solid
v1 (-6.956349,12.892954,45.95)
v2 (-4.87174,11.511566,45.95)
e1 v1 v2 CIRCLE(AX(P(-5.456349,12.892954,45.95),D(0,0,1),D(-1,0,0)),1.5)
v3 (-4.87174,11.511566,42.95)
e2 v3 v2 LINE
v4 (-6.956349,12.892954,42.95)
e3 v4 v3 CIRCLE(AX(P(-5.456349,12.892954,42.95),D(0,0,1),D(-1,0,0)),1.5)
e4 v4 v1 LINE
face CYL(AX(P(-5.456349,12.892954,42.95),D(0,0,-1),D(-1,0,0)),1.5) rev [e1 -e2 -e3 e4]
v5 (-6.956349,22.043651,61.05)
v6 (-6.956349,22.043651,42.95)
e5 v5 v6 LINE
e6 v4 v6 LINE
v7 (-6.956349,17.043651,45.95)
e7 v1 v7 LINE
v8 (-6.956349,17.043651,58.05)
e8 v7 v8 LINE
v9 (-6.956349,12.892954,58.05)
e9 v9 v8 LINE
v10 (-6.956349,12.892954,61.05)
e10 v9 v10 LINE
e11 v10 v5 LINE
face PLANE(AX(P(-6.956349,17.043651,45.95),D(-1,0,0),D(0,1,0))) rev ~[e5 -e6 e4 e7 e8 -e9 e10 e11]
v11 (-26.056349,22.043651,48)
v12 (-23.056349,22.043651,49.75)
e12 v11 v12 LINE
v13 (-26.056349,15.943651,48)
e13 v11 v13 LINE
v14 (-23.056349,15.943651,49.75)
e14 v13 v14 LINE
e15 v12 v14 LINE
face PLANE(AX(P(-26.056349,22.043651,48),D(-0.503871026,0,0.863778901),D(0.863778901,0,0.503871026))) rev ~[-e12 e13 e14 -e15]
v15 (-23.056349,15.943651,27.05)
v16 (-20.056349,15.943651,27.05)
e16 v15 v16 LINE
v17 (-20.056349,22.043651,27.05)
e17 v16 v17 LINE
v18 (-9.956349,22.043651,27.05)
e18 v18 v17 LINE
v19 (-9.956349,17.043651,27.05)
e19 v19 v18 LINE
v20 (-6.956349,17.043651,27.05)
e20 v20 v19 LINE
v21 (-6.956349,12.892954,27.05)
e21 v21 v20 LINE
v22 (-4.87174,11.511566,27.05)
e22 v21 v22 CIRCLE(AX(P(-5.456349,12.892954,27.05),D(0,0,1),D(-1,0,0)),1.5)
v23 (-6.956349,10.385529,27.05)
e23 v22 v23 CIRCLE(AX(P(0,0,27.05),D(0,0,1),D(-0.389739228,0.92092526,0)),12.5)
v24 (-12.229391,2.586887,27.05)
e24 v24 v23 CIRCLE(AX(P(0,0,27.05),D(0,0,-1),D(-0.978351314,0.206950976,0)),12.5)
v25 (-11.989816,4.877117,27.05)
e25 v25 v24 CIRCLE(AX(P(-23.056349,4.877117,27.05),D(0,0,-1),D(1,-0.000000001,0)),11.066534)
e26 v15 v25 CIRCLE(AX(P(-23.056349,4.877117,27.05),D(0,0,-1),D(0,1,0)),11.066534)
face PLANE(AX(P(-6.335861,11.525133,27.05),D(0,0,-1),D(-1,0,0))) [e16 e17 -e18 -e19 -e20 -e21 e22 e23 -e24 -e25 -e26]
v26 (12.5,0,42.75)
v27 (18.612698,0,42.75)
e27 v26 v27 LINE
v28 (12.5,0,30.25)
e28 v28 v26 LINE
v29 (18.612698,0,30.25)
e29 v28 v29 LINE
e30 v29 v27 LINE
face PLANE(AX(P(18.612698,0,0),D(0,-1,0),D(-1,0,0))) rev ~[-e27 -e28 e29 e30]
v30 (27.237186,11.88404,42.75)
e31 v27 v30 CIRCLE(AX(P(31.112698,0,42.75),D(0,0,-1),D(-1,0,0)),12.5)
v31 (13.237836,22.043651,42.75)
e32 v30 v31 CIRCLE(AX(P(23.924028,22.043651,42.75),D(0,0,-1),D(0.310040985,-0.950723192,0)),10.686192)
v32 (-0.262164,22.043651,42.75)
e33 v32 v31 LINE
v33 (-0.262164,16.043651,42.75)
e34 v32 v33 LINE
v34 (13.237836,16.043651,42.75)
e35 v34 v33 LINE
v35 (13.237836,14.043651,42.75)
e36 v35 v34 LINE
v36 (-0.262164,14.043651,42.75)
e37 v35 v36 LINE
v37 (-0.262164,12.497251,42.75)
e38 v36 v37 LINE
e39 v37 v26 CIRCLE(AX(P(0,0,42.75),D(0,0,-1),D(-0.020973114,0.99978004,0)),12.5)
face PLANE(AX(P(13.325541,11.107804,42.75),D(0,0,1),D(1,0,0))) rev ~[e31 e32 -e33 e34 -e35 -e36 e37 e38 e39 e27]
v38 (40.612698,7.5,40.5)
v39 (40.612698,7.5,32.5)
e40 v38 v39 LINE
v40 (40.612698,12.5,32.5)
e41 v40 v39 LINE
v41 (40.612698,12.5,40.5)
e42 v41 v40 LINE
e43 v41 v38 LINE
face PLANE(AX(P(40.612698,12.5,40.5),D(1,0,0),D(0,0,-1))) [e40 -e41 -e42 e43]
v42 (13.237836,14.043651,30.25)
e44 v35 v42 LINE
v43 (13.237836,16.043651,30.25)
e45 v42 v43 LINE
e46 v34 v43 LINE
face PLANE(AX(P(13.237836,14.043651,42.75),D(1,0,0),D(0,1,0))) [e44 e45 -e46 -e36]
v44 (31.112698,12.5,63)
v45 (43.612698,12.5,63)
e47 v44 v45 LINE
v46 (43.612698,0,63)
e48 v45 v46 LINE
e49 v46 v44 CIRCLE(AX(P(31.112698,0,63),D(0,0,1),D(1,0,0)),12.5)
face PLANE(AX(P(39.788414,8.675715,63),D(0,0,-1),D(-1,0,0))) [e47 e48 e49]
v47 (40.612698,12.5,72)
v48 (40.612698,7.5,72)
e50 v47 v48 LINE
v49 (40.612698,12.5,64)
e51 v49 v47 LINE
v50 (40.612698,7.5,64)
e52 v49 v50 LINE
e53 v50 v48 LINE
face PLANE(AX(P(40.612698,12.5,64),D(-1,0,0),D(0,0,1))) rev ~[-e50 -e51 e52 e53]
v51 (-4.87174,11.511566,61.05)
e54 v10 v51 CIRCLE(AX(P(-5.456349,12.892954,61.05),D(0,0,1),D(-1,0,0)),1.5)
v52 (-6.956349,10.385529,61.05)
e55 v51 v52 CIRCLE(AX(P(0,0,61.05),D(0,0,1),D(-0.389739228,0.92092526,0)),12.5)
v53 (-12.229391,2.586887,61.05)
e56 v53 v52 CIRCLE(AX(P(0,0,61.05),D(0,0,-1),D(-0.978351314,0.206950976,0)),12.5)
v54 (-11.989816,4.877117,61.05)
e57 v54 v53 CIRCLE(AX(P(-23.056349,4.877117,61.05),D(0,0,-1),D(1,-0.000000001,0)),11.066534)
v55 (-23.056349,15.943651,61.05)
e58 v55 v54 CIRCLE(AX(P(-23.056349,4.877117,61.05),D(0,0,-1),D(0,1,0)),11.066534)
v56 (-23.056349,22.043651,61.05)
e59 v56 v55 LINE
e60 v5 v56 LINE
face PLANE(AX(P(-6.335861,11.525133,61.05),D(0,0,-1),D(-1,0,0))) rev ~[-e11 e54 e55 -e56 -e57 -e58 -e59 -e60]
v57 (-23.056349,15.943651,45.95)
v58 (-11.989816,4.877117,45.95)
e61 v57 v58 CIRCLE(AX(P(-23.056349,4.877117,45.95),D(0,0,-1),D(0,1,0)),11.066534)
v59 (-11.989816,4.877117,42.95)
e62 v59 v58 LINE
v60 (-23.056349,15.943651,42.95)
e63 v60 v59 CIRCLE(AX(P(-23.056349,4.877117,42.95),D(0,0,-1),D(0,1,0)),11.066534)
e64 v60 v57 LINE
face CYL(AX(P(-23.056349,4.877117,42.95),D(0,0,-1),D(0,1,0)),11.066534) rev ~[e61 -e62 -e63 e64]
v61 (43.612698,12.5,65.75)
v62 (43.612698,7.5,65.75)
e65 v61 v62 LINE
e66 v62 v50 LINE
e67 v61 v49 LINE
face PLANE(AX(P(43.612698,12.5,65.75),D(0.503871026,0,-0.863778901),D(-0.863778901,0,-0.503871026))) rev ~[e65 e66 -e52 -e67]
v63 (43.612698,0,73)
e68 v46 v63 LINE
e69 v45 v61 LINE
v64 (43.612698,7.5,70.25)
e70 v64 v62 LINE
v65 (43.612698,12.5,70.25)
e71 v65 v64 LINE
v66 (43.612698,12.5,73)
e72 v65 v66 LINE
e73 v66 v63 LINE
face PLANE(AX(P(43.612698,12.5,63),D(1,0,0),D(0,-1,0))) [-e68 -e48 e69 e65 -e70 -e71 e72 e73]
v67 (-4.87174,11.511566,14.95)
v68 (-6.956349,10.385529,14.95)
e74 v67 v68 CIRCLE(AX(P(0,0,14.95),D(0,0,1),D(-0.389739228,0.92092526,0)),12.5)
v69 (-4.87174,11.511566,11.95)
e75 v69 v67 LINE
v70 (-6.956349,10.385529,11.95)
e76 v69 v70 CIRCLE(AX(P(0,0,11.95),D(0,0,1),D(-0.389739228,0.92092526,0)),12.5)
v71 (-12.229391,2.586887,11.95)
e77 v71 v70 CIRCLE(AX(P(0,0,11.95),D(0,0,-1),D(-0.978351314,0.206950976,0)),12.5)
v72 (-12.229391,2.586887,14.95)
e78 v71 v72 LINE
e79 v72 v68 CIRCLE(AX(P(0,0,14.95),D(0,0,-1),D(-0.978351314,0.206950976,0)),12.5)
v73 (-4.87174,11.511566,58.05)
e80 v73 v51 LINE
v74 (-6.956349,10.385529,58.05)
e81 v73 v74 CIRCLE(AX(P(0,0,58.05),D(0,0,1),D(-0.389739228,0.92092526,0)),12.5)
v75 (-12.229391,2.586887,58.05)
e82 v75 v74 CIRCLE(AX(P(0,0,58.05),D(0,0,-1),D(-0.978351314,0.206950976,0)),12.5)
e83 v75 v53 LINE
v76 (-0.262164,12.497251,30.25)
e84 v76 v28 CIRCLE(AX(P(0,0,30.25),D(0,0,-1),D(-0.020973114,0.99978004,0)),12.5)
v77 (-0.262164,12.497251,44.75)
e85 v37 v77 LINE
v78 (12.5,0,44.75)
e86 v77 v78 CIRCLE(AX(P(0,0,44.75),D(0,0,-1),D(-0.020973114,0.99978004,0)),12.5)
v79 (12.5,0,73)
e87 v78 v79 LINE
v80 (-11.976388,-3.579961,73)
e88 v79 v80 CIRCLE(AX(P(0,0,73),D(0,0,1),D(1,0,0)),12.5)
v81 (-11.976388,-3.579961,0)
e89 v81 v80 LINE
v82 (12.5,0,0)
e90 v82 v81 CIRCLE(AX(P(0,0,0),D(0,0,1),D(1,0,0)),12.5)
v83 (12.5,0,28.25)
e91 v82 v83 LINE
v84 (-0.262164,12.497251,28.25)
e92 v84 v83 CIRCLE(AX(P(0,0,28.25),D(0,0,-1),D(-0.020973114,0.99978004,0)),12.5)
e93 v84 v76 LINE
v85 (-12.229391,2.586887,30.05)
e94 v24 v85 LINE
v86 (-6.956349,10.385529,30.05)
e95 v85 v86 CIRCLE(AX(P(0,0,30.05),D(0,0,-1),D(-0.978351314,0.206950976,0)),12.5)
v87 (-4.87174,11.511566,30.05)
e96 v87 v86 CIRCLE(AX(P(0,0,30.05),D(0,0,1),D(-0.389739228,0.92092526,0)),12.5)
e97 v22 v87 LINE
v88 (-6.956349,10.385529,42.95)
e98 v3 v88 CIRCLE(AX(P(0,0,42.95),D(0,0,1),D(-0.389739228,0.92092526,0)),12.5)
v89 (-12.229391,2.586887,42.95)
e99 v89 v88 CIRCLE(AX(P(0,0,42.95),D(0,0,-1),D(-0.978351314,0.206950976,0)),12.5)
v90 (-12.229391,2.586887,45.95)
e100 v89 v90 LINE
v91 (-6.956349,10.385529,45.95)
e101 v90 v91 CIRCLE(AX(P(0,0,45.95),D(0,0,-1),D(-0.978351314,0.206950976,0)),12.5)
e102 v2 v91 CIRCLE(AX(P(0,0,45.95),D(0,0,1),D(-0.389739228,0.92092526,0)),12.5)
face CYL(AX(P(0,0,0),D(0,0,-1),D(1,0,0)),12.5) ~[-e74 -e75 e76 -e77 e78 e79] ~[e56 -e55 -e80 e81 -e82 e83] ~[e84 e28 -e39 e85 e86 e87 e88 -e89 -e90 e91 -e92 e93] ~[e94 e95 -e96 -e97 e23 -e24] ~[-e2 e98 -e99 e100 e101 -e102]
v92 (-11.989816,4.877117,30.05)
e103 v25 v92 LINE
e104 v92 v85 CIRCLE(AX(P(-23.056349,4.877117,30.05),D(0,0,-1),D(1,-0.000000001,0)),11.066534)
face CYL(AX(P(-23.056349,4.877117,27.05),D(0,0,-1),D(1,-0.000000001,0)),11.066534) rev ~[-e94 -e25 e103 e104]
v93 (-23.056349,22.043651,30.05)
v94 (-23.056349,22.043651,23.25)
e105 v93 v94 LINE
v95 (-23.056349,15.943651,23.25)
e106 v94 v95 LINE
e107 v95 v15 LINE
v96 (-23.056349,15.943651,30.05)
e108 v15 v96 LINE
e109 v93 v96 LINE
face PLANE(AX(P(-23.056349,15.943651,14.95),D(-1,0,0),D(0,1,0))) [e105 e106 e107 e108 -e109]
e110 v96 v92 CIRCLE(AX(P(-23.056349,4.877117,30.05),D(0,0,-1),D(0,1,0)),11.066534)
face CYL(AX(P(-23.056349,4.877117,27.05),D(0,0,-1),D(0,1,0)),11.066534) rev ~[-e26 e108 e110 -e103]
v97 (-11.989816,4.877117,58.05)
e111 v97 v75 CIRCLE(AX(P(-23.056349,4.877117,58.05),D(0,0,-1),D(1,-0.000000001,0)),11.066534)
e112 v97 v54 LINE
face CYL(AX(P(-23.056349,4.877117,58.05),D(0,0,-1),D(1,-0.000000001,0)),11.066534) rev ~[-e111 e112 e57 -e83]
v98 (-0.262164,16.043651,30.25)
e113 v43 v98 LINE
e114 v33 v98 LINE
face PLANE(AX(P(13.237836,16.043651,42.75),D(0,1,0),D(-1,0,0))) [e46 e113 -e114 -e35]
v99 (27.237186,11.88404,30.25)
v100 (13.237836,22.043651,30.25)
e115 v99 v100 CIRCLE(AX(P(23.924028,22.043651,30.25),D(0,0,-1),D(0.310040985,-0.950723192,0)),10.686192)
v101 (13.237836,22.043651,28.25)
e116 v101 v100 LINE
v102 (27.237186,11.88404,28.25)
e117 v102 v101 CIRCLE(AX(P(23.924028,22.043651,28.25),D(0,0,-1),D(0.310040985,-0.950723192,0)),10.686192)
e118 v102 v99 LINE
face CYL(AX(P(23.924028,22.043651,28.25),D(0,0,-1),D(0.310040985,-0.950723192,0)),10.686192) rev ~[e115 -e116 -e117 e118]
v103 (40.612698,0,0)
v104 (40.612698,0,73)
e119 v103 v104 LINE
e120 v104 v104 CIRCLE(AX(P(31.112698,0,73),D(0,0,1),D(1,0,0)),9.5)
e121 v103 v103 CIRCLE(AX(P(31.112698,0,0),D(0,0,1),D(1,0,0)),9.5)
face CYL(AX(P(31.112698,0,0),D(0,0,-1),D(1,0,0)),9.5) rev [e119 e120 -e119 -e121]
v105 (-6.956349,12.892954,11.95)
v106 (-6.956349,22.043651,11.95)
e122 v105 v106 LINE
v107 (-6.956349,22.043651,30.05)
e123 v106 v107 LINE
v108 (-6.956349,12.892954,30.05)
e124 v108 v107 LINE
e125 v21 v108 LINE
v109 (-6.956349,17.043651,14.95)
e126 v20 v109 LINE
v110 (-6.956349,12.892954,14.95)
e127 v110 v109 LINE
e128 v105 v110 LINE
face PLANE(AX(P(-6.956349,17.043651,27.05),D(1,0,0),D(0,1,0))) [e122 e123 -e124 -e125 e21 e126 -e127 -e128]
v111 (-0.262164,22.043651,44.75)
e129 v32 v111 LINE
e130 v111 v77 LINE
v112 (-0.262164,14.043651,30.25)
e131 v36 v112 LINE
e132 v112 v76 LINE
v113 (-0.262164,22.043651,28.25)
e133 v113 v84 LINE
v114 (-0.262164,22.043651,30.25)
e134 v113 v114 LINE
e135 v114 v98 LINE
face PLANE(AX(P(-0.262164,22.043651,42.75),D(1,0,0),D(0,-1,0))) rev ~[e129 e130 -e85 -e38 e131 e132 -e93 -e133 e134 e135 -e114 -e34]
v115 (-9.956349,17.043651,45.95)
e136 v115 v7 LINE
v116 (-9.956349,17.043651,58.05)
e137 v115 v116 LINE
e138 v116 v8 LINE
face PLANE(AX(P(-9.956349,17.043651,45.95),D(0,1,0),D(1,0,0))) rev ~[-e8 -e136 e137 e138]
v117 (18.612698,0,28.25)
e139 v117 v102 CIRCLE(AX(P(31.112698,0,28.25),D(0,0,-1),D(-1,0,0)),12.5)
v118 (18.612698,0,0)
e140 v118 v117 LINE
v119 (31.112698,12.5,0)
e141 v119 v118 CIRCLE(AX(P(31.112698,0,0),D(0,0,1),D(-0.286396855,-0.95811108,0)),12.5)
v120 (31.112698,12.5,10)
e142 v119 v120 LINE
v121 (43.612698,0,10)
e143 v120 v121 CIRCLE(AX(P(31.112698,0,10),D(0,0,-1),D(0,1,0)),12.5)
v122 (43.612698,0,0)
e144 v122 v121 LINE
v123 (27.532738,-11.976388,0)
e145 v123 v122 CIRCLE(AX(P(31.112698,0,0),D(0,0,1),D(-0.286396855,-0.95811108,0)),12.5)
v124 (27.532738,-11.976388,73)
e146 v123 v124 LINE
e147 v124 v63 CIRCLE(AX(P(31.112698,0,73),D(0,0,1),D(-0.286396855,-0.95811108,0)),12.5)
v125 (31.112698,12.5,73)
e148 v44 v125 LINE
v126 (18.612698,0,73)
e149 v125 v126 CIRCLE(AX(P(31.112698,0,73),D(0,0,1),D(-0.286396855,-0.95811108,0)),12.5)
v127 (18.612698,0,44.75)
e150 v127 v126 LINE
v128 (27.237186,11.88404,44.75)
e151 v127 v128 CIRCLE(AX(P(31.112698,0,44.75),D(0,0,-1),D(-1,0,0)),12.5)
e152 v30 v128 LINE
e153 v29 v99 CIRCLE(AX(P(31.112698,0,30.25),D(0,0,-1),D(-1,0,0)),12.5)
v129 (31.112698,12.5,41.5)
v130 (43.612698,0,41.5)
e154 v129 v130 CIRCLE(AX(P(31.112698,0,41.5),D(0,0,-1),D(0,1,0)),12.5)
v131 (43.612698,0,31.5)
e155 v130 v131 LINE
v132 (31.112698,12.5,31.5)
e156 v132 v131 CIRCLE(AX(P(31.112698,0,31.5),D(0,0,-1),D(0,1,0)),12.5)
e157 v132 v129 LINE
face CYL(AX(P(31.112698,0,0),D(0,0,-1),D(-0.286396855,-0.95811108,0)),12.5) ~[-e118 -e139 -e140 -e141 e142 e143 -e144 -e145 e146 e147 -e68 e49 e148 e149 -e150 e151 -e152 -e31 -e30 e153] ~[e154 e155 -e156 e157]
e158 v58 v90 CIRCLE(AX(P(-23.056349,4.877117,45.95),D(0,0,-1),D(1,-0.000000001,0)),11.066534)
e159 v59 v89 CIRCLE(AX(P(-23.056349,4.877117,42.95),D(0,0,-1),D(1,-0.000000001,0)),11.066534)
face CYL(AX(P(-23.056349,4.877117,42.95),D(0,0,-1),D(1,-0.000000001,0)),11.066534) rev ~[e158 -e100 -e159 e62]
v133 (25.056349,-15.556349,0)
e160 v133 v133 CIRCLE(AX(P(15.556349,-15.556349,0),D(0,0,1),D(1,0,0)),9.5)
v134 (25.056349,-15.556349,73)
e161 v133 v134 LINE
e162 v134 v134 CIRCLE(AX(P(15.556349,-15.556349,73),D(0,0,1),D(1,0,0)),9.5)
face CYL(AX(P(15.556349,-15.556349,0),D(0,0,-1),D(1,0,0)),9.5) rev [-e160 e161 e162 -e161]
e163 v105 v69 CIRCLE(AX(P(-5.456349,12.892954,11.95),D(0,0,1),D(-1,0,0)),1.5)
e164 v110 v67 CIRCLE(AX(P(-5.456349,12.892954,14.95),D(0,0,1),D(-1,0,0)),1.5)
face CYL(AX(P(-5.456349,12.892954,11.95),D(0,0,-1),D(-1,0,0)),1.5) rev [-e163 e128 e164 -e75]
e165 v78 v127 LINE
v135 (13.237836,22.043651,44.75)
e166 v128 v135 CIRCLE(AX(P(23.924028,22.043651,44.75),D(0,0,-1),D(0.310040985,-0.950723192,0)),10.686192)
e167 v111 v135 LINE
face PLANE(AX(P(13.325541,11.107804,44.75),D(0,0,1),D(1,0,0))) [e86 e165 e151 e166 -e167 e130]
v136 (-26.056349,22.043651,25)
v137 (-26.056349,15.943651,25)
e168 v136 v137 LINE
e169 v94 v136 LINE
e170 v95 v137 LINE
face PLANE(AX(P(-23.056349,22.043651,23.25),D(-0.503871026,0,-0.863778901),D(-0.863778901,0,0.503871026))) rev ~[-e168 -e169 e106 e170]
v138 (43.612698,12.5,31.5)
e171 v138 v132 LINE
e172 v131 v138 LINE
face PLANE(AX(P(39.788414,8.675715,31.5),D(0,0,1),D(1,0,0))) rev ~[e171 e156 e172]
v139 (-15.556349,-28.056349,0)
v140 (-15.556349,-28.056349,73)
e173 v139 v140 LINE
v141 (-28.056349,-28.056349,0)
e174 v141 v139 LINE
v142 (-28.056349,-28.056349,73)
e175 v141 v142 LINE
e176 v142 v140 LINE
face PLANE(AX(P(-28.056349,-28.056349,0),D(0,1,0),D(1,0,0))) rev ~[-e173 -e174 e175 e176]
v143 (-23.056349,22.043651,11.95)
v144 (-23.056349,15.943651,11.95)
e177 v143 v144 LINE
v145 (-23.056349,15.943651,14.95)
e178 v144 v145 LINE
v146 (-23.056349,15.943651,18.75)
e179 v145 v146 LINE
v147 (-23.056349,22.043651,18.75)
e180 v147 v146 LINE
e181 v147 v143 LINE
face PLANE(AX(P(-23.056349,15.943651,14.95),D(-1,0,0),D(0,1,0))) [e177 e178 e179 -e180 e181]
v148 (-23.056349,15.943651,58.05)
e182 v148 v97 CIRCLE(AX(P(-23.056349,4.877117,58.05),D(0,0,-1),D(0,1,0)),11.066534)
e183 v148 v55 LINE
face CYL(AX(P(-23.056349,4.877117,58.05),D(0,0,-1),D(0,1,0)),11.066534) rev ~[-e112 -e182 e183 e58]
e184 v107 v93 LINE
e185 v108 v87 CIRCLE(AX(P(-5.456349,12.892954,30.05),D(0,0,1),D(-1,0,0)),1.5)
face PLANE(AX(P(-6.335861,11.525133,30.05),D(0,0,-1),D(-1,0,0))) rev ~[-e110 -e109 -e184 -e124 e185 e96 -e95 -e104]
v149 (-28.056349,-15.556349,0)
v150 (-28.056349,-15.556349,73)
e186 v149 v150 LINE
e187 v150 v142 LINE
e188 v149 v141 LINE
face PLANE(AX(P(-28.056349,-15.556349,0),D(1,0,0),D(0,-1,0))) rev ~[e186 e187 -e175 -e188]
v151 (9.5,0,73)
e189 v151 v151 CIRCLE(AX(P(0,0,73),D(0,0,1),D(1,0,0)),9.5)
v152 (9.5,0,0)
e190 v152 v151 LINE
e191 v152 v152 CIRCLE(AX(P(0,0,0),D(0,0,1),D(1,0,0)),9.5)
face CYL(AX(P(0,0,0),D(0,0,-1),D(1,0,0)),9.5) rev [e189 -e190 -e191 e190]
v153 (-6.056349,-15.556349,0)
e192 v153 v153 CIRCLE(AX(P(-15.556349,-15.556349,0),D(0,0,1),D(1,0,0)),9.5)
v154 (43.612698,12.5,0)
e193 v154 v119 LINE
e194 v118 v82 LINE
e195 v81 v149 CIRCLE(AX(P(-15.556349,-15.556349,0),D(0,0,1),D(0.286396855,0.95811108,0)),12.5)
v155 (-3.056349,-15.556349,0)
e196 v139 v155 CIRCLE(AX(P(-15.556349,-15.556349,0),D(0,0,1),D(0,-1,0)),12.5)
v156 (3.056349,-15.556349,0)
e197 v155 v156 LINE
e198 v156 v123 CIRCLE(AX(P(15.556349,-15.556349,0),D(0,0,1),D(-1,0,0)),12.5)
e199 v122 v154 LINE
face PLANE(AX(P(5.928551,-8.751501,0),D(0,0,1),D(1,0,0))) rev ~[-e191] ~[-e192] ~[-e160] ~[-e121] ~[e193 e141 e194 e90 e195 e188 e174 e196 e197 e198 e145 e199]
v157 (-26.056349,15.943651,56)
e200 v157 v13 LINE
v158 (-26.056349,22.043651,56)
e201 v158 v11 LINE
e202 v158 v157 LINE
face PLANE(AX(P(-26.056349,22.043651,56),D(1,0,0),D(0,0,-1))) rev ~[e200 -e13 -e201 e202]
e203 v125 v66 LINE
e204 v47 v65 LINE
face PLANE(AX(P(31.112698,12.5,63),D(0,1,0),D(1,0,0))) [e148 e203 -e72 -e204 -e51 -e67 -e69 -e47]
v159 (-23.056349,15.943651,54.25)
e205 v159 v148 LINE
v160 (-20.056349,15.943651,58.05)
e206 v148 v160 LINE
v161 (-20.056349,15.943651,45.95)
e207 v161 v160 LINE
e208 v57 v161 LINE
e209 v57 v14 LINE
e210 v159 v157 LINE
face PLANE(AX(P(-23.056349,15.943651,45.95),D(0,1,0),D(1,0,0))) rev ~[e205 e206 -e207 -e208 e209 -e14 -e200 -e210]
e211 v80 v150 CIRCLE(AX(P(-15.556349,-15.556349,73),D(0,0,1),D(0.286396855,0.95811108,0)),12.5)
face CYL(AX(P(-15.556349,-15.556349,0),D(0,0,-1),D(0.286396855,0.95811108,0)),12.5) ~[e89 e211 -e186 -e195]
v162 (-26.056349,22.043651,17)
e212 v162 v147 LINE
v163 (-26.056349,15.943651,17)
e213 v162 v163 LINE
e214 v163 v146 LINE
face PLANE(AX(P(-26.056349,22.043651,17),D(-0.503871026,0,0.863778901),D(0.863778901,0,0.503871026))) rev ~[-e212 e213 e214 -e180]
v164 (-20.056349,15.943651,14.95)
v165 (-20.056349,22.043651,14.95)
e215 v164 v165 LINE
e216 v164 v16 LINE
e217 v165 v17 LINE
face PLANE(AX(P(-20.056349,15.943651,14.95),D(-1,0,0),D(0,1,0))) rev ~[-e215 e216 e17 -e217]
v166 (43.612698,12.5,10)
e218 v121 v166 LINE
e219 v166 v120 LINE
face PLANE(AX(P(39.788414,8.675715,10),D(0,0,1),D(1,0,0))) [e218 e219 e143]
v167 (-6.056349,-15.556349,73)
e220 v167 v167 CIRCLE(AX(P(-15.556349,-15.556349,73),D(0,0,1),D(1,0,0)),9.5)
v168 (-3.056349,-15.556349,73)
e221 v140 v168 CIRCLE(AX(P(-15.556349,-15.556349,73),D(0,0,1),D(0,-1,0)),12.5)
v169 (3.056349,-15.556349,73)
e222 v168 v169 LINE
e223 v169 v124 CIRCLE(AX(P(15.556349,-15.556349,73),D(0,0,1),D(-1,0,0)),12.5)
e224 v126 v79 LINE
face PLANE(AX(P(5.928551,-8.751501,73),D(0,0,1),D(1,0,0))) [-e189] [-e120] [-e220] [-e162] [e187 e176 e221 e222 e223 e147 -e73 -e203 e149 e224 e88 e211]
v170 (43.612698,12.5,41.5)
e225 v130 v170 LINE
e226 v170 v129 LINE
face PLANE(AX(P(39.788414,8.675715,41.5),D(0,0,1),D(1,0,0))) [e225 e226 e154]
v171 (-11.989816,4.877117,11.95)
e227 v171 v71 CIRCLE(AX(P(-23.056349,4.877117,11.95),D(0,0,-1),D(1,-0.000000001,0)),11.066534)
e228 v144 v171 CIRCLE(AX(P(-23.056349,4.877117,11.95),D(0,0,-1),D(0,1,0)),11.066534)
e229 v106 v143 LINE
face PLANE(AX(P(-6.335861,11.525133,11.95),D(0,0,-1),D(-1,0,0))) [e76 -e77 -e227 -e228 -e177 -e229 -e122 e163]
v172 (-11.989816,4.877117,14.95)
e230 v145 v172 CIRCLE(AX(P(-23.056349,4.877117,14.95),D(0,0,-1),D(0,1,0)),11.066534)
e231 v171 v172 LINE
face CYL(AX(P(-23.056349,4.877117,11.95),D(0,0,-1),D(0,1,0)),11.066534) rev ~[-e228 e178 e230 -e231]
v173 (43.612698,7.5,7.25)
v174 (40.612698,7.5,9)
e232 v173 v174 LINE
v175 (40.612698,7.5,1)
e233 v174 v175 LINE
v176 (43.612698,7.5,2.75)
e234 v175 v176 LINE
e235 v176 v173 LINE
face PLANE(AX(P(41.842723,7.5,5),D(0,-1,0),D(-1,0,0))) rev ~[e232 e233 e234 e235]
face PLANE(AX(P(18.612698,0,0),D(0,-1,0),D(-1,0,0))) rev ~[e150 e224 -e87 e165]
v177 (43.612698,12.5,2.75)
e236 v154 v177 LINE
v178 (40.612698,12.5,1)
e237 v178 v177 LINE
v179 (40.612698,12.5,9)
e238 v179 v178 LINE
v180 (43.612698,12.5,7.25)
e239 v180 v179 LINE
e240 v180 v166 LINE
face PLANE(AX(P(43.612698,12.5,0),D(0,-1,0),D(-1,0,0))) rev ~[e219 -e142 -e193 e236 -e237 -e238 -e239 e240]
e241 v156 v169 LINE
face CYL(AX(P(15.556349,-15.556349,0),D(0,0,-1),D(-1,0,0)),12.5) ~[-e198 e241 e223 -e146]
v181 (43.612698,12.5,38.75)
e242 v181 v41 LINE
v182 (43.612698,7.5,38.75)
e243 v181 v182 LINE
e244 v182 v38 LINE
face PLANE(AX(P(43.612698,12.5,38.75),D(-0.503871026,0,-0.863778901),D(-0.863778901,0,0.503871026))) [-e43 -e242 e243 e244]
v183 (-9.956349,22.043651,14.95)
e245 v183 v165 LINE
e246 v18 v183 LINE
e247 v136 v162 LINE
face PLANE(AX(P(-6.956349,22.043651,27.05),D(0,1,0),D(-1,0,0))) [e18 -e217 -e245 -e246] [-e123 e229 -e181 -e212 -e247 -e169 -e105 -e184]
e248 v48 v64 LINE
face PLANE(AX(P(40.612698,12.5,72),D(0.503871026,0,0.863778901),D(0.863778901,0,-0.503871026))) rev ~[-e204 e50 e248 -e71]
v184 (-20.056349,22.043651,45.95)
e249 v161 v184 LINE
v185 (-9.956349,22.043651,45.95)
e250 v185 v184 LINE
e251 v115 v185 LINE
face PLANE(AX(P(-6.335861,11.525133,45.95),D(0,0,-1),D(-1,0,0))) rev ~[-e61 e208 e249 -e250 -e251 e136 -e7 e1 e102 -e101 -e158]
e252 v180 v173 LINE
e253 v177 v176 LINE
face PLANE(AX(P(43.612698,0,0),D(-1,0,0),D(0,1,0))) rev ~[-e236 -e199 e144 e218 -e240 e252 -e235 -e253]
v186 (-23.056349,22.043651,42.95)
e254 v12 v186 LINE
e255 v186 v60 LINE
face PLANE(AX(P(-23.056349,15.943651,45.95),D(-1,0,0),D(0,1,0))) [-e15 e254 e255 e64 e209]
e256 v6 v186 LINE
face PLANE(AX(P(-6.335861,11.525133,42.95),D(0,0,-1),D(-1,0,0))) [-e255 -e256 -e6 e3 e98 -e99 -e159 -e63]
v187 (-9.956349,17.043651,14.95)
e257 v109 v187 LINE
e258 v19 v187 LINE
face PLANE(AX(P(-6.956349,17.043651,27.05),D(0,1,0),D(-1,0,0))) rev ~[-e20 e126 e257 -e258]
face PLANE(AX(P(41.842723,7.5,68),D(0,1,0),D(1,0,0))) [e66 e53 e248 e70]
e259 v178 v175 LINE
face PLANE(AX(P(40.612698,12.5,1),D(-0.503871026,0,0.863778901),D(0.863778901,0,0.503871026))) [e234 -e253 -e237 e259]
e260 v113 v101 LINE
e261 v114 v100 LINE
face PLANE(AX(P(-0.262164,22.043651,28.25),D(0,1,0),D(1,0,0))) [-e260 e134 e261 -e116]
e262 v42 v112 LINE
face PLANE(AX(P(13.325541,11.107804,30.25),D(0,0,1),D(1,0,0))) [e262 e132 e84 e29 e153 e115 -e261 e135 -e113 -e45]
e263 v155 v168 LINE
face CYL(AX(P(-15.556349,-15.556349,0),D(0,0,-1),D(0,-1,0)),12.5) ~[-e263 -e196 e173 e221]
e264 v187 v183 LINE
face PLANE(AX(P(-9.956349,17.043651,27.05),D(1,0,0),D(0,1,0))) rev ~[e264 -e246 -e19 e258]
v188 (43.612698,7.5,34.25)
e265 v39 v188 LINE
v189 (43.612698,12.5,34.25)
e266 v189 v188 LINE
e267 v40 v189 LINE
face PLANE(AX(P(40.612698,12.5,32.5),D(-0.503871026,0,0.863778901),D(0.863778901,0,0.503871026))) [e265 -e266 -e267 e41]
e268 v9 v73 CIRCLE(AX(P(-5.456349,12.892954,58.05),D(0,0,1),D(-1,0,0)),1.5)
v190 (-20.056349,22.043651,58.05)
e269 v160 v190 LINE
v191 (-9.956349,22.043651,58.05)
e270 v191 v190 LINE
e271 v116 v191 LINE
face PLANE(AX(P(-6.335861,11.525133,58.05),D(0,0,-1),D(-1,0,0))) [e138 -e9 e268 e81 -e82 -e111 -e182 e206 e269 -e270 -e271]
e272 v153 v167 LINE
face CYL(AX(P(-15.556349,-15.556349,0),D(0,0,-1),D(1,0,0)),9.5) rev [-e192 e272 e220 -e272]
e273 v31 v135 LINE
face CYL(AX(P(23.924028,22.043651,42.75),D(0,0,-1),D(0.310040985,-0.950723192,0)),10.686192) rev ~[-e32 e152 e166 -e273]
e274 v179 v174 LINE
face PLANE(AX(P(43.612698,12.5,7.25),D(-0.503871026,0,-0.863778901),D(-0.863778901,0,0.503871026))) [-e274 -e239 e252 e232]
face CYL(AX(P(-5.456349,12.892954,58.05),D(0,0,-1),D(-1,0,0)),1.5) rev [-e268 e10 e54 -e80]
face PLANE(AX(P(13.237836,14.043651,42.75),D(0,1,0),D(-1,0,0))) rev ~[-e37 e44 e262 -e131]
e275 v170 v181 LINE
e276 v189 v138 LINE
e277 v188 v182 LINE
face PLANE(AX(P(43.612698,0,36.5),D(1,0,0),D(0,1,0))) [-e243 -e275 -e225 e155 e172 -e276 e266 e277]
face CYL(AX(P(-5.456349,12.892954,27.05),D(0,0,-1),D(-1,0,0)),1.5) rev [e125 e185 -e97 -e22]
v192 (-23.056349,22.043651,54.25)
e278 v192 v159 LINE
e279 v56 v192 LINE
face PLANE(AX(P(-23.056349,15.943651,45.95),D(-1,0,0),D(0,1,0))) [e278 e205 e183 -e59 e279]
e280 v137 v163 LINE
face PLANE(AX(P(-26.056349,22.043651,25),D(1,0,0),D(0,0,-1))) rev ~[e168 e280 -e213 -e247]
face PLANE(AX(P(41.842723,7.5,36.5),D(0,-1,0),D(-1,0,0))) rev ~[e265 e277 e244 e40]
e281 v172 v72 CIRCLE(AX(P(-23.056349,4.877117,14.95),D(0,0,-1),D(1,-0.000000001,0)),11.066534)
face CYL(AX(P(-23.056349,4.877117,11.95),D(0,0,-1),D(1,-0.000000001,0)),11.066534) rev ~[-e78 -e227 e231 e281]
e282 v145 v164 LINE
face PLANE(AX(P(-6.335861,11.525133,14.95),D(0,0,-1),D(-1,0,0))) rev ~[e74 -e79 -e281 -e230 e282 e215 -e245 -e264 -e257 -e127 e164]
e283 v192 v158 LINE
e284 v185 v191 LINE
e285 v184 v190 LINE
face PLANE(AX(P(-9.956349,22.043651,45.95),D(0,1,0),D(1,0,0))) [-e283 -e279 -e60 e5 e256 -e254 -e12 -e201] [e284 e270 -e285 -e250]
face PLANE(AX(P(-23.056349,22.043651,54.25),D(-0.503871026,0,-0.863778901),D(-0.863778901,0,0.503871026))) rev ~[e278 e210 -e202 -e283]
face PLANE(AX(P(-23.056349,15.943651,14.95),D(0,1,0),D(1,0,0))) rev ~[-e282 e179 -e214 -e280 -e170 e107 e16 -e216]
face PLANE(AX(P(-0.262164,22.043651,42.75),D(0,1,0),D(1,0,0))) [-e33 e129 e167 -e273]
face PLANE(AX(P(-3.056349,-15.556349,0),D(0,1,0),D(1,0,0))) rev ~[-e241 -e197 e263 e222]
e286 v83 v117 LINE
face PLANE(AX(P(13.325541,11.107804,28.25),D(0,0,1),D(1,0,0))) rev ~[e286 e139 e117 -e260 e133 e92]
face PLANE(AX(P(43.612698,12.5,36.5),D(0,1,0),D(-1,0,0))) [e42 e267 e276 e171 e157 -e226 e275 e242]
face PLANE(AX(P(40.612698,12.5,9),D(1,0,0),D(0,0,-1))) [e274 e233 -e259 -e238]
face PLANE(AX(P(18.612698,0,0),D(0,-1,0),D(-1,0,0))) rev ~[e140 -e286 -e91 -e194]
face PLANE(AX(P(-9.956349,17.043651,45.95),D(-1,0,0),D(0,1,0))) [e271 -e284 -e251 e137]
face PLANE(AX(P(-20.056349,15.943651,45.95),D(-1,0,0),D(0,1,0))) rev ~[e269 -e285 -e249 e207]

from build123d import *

# Parameters (mm, degrees)
SKETCH_1_R          = 9.5
EXTRUDE_2_DEPTH     = 73
EXTRUDE_START       = -3
EXTRUDE_3_DEPTH     = 3
EXTRUDE_4_DEPTH     = 3
EXTRUDE_5_DEPTH     = 3
EXTRUDE_6_DEPTH     = 3
SKETCH_8_W          = 3
SKETCH_8_H          = 6.1
EXTRUDE_7_DEPTH     = 12.1
SKETCH_9_W          = 3
SKETCH_9_H          = 6.1
EXTRUDE_8_DEPTH     = 12.1
SKETCH_10_W         = 3
SKETCH_10_H         = 5
EXTRUDE_9_DEPTH     = 12.1
SKETCH_11_W         = 3
SKETCH_11_H         = 5
EXTRUDE_10_DEPTH    = 12.1
EXTRUDE_11_DEPTH    = 3
EXTRUDE_12_DEPTH    = 3
EXTRUDE_13_DEPTH    = 3
EXTRUDE_14_DEPTH    = 3
EXTRUDE_15_DEPTH    = 6.1
SKETCH_18_W         = 13.5
SKETCH_18_H         = 6
EXTRUDE_16_DEPTH    = 2
EXTRUDE_START_2     = -2
SKETCH_19_W         = 13.5
SKETCH_19_H         = 6
EXTRUDE_17_DEPTH    = 2
SKETCH_20_W         = 13.5
SKETCH_20_H         = 2
EXTRUDE_18_DEPTH    = 12.5
EXTRUDE_START_3     = -10
EXTRUDE_19_DEPTH    = 10
EXTRUDE_20_DEPTH    = 10
EXTRUDE_START_4     = 36.5
EXTRUDE_21_DEPTH    = 5
CUT_EXTRUDE_1_DEPTH = 5


with BuildPart() as part:
    # Эскиз1 → Бобышка-Вытянуть2 (new body)
    with BuildSketch(Plane.XY):
        with BuildLine():
            Line((-28.056349186, -15.556349186), (-28.056349186, -28.056349186))
            Line((-28.056349186, -28.056349186), (-15.556349186, -28.056349186))
            ThreePointArc((-15.556349186, -28.056349186), (-6.717514421, -24.395183951), (-3.056349186, -15.556349186))
            Line((-3.056349186, -15.556349186), (3.056349186, -15.556349186))
            ThreePointArc((3.056349186, -15.556349186), (17.365374305, -27.924753615), (27.532737685, -11.976388499))
            ThreePointArc((27.532737685, -11.976388499), (41.137654945, 7.466608715), (18.612698372, 0))
            Line((18.612698372, 0), (12.5, 0))
            ThreePointArc((12.5, 0), (-1.809025119, 12.368404429), (-11.976388499, -3.579960687))
            ThreePointArc((-11.976388499, -3.579960687), (-23.022957901, -5.531392613), (-28.056349186, -15.556349186))
        make_face()
        with Locations((-15.556349186, -15.556349186)):
            Circle(SKETCH_1_R, mode=Mode.SUBTRACT)
        with Locations((15.556349186, -15.556349186)):
            Circle(SKETCH_1_R, mode=Mode.SUBTRACT)
        Circle(SKETCH_1_R, mode=Mode.SUBTRACT)
        with Locations((31.112698372, 0)):
            Circle(SKETCH_1_R, mode=Mode.SUBTRACT)
    extrude(amount=EXTRUDE_2_DEPTH)

    # Эскиз4 → Бобышка-Вытянуть3 (add)
    with BuildSketch(Plane.XY.offset(61.05).offset(EXTRUDE_START)):
        with BuildLine():
            ThreePointArc((-12.229391425, 2.586887198), (-10.355088747, 7.001581039), (-6.956349186, 10.385528682))
            Line((-6.956349186, 10.385528682), (-6.956349186, 22.043650814))
            Line((-6.956349186, 22.043650814), (-23.056349186, 22.043650814))
            Line((-23.056349186, 22.043650814), (-23.056349186, 15.943650814))
            ThreePointArc((-23.056349186, 15.943650814), (-15.231128181, 12.702338145), (-11.989815512, 4.87711714))
            ThreePointArc((-11.989815512, 4.87711714), (-12.049872452, 3.725753839), (-12.229391425, 2.586887198))
        make_face()
    extrude(amount=EXTRUDE_3_DEPTH)

    # Эскиз5 → Бобышка-Вытянуть4 (add)
    with BuildSketch(Plane.XY.offset(11.95)):
        with BuildLine():
            ThreePointArc((-12.229391425, 2.586887198), (-10.355088747, 7.001581039), (-6.956349186, 10.385528682))
            Line((-6.956349186, 10.385528682), (-6.956349186, 22.043650814))
            Line((-6.956349186, 22.043650814), (-23.056349186, 22.043650814))
            Line((-23.056349186, 22.043650814), (-23.056349186, 15.943650814))
            ThreePointArc((-23.056349186, 15.943650814), (-15.231128181, 12.702338145), (-11.989815512, 4.87711714))
            ThreePointArc((-11.989815512, 4.87711714), (-12.049872452, 3.725753839), (-12.229391425, 2.586887198))
        make_face()
    extrude(amount=EXTRUDE_4_DEPTH)

    # Эскиз7 → Бобышка-Вытянуть6 (add)
    with BuildSketch(Plane.XY.offset(30.05).offset(EXTRUDE_START)):
        with BuildLine():
            ThreePointArc((-12.229391425, 2.586887198), (-10.355088747, 7.001581039), (-6.956349186, 10.385528682))
            Line((-6.956349186, 10.385528682), (-6.956349186, 22.043650814))
            Line((-6.956349186, 22.043650814), (-23.056349186, 22.043650814))
            Line((-23.056349186, 22.043650814), (-23.056349186, 15.943650814))
            ThreePointArc((-23.056349186, 15.943650814), (-15.231128181, 12.702338145), (-11.989815512, 4.87711714))
            ThreePointArc((-11.989815512, 4.87711714), (-12.049872452, 3.725753839), (-12.229391425, 2.586887198))
        make_face()
    extrude(amount=EXTRUDE_6_DEPTH)

    # Эскиз8 → Бобышка-Вытянуть7 (add)
    with BuildSketch(Plane.XY.offset(14.95)):
        with Locations((-21.556349186, 18.993650814)):
            Rectangle(SKETCH_8_W, SKETCH_8_H)
    extrude(amount=EXTRUDE_7_DEPTH)



with BuildPart() as body_2:
    # Эскиз6 → Бобышка-Вытянуть5 (new body)
    with BuildSketch(Plane.XY.offset(42.95)):
        with BuildLine():
            ThreePointArc((-12.229391425, 2.586887198), (-10.355088747, 7.001581039), (-6.956349186, 10.385528682))
            Line((-6.956349186, 10.385528682), (-6.956349186, 22.043650814))
            Line((-6.956349186, 22.043650814), (-23.056349186, 22.043650814))
            Line((-23.056349186, 22.043650814), (-23.056349186, 15.943650814))
            ThreePointArc((-23.056349186, 15.943650814), (-15.231128181, 12.702338145), (-11.989815512, 4.87711714))
            ThreePointArc((-11.989815512, 4.87711714), (-12.049872452, 3.725753839), (-12.229391425, 2.586887198))
        make_face()
    extrude(amount=EXTRUDE_5_DEPTH)


with BuildPart() as part_1:
    add(part.part)

    add(body_2.part)  # Бобышка-Вытянуть8 merges body 2
    # Эскиз9 → Бобышка-Вытянуть8 (add)
    with BuildSketch(Plane.XY.offset(45.95)):
        with Locations((-21.556349186, 18.993650814)):
            Rectangle(SKETCH_9_W, SKETCH_9_H)
    extrude(amount=EXTRUDE_8_DEPTH)

    # Эскиз10 → Бобышка-Вытянуть9 (add)
    with BuildSketch(Plane.XY.offset(45.95)):
        with Locations((-8.456349186, 19.543650814)):
            Rectangle(SKETCH_10_W, SKETCH_10_H)
    extrude(amount=EXTRUDE_9_DEPTH)

    # Эскиз11 → Бобышка-Вытянуть10 (add)
    with BuildSketch(Plane(origin=(0, 0, 27.05), x_dir=(-1, 0, 0), z_dir=(0, 0, -1))):
        with Locations((8.456349186, 19.543650814)):
            Rectangle(SKETCH_11_W, SKETCH_11_H)
    extrude(amount=EXTRUDE_10_DEPTH)

    # Эскиз12 → Бобышка-Вытянуть11 (add)
    with BuildSketch(Plane(origin=(0, 0, 11.95), x_dir=(-1, 0, 0), z_dir=(0, 0, -1))):
        with BuildLine():
            Line((6.956349186, 10.385528682), (6.956349186, 12.89295364))
            ThreePointArc((6.956349186, 12.89295364), (6.284928313, 11.642571046), (4.871740345, 11.51156575))
            ThreePointArc((4.871740345, 11.51156575), (5.940784069, 10.998049129), (6.956349186, 10.385528682))
        make_face()
    extrude(amount=-EXTRUDE_11_DEPTH)

    # Эскиз13 → Бобышка-Вытянуть12 (add)
    with BuildSketch(Plane(origin=(0, 0, 27.05), x_dir=(-1, 0, 0), z_dir=(0, 0, -1))):
        with BuildLine():
            Line((6.956349186, 10.385528682), (6.956349186, 12.89295364))
            ThreePointArc((6.956349186, 12.89295364), (6.284928313, 11.642571046), (4.871740345, 11.51156575))
            ThreePointArc((4.871740345, 11.51156575), (5.940784069, 10.998049129), (6.956349186, 10.385528682))
        make_face()
    extrude(amount=-EXTRUDE_12_DEPTH)

    # Эскиз14 → Бобышка-Вытянуть13 (add)
    with BuildSketch(Plane(origin=(0, 0, 42.95), x_dir=(-1, 0, 0), z_dir=(0, 0, -1))):
        with BuildLine():
            Line((6.956349186, 10.385528682), (6.956349186, 12.89295364))
            ThreePointArc((6.956349186, 12.89295364), (6.284928313, 11.642571046), (4.871740345, 11.51156575))
            ThreePointArc((4.871740345, 11.51156575), (5.940784069, 10.998049129), (6.956349186, 10.385528682))
        make_face()
    extrude(amount=-EXTRUDE_13_DEPTH)

    # Эскиз15 → Бобышка-Вытянуть14 (add)
    with BuildSketch(Plane(origin=(0, 0, 58.05), x_dir=(-1, 0, 0), z_dir=(0, 0, -1))):
        with BuildLine():
            Line((6.956349186, 10.385528682), (6.956349186, 12.89295364))
            ThreePointArc((6.956349186, 12.89295364), (6.284928313, 11.642571046), (4.871740345, 11.51156575))
            ThreePointArc((4.871740345, 11.51156575), (5.940784069, 10.998049129), (6.956349186, 10.385528682))
        make_face()
    extrude(amount=-EXTRUDE_14_DEPTH)

    # Эскиз16 → Бобышка-Вытянуть15 (add)
    with BuildSketch(Plane.XZ.offset(-22.043650814)):
        Polygon((-23.056349186, 18.75), (-23.056349186, 23.25), (-26.056349186, 25), (-26.056349186, 17), align=None)
        Polygon((-23.056349186, 49.75), (-23.056349186, 54.25), (-26.056349186, 56), (-26.056349186, 48), align=None)
    extrude(amount=EXTRUDE_15_DEPTH)

    # Эскиз18 → Бобышка-Вытянуть16 (add)
    with BuildSketch(Plane.XY.offset(42.75)):
        with BuildLine():
            Line((13.237836074, 16.043650814), (-0.262163926, 16.043650814))
            Line((-0.262163926, 16.043650814), (-0.262163926, 12.497250501))
            ThreePointArc((-0.262163926, 12.497250501), (8.745654662, 8.931042746), (12.5, 0))
            Line((12.5, 0), (18.612698372, 0))
            ThreePointArc((18.612698372, 0), (20.996031333, 7.341869518), (27.237186055, 11.884039897))
            ThreePointArc((27.237186055, 11.884039897), (17.647498042, 13.394958805), (13.237836074, 22.043650814))
            Line((13.237836074, 22.043650814), (13.237836074, 16.043650814))
        make_face()
        with Locations((6.487836074, 19.043650814)):
            Rectangle(SKETCH_18_W, SKETCH_18_H)
    extrude(amount=EXTRUDE_16_DEPTH)

    # Эскиз19 → Бобышка-Вытянуть17 (add)
    with BuildSketch(Plane.XY.offset(30.25).offset(EXTRUDE_START_2)):
        with BuildLine():
            Line((13.237836074, 16.043650814), (-0.262163926, 16.043650814))
            Line((-0.262163926, 16.043650814), (-0.262163926, 12.497250501))
            ThreePointArc((-0.262163926, 12.497250501), (8.745654662, 8.931042746), (12.5, 0))
            Line((12.5, 0), (18.612698372, 0))
            ThreePointArc((18.612698372, 0), (20.996031333, 7.341869518), (27.237186055, 11.884039897))
            ThreePointArc((27.237186055, 11.884039897), (17.647498042, 13.394958805), (13.237836074, 22.043650814))
            Line((13.237836074, 22.043650814), (13.237836074, 16.043650814))
        make_face()
        with Locations((6.487836074, 19.043650814)):
            Rectangle(SKETCH_19_W, SKETCH_19_H)
    extrude(amount=EXTRUDE_17_DEPTH)

    # Эскиз20 → Бобышка-Вытянуть18 (add)
    with BuildSketch(Plane(origin=(0, 0, 42.75), x_dir=(-1, 0, 0), z_dir=(0, 0, -1))):
        with Locations((-6.487836074, 15.043650814)):
            Rectangle(SKETCH_20_W, SKETCH_20_H)
    extrude(amount=EXTRUDE_18_DEPTH)

    # Эскиз22 → Бобышка-Вытянуть19 (add)
    with BuildSketch(Plane.XY.offset(73).offset(EXTRUDE_START_3)):
        with BuildLine():
            Line((31.112698372, 12.5), (43.612698372, 12.5))
            Line((43.612698372, 12.5), (43.612698372, 0))
            ThreePointArc((43.612698372, 0), (39.951533137, 8.838834765), (31.112698372, 12.5))
        make_face()
    extrude(amount=EXTRUDE_19_DEPTH)

    # Эскиз23 → Бобышка-Вытянуть20 (add)
    with BuildSketch(Plane.XY):
        with BuildLine():
            Line((43.612698372, 12.5), (31.112698372, 12.5))
            ThreePointArc((31.112698372, 12.5), (39.951533137, 8.838834765), (43.612698372, 0))
            Line((43.612698372, 0), (43.612698372, 12.5))
        make_face()
    extrude(amount=EXTRUDE_20_DEPTH)

    # Эскиз24 → Бобышка-Вытянуть21 (add, symmetric)
    with BuildSketch(Plane.XY.offset(EXTRUDE_START_4)):
        with BuildLine():
            Line((43.612698372, 12.5), (31.112698372, 12.5))
            ThreePointArc((31.112698372, 12.5), (39.951533137, 8.838834765), (43.612698372, 0))
            Line((43.612698372, 0), (43.612698372, 12.5))
        make_face()
    extrude(amount=EXTRUDE_21_DEPTH, both=True)

    # Эскиз25 → Вырез-Вытянуть1 (cut)
    with BuildSketch(Plane(origin=(0, 12.5, 0), x_dir=(1, 0, 0), z_dir=(0, 1, 0))):
        Polygon((43.612698372, -65.75), (40.612698372, -64), (40.612698372, -72), (43.612698372, -70.25), align=None)
        Polygon((40.612698372, -32.5), (43.612698372, -34.25), (43.612698372, -38.75), (40.612698372, -40.5), align=None)
        Polygon((43.612698372, -2.75), (43.612698372, -7.25), (40.612698372, -9), (40.612698372, -1), align=None)
    extrude(amount=-CUT_EXTRUDE_1_DEPTH, mode=Mode.SUBTRACT)


solid = part_1.part
